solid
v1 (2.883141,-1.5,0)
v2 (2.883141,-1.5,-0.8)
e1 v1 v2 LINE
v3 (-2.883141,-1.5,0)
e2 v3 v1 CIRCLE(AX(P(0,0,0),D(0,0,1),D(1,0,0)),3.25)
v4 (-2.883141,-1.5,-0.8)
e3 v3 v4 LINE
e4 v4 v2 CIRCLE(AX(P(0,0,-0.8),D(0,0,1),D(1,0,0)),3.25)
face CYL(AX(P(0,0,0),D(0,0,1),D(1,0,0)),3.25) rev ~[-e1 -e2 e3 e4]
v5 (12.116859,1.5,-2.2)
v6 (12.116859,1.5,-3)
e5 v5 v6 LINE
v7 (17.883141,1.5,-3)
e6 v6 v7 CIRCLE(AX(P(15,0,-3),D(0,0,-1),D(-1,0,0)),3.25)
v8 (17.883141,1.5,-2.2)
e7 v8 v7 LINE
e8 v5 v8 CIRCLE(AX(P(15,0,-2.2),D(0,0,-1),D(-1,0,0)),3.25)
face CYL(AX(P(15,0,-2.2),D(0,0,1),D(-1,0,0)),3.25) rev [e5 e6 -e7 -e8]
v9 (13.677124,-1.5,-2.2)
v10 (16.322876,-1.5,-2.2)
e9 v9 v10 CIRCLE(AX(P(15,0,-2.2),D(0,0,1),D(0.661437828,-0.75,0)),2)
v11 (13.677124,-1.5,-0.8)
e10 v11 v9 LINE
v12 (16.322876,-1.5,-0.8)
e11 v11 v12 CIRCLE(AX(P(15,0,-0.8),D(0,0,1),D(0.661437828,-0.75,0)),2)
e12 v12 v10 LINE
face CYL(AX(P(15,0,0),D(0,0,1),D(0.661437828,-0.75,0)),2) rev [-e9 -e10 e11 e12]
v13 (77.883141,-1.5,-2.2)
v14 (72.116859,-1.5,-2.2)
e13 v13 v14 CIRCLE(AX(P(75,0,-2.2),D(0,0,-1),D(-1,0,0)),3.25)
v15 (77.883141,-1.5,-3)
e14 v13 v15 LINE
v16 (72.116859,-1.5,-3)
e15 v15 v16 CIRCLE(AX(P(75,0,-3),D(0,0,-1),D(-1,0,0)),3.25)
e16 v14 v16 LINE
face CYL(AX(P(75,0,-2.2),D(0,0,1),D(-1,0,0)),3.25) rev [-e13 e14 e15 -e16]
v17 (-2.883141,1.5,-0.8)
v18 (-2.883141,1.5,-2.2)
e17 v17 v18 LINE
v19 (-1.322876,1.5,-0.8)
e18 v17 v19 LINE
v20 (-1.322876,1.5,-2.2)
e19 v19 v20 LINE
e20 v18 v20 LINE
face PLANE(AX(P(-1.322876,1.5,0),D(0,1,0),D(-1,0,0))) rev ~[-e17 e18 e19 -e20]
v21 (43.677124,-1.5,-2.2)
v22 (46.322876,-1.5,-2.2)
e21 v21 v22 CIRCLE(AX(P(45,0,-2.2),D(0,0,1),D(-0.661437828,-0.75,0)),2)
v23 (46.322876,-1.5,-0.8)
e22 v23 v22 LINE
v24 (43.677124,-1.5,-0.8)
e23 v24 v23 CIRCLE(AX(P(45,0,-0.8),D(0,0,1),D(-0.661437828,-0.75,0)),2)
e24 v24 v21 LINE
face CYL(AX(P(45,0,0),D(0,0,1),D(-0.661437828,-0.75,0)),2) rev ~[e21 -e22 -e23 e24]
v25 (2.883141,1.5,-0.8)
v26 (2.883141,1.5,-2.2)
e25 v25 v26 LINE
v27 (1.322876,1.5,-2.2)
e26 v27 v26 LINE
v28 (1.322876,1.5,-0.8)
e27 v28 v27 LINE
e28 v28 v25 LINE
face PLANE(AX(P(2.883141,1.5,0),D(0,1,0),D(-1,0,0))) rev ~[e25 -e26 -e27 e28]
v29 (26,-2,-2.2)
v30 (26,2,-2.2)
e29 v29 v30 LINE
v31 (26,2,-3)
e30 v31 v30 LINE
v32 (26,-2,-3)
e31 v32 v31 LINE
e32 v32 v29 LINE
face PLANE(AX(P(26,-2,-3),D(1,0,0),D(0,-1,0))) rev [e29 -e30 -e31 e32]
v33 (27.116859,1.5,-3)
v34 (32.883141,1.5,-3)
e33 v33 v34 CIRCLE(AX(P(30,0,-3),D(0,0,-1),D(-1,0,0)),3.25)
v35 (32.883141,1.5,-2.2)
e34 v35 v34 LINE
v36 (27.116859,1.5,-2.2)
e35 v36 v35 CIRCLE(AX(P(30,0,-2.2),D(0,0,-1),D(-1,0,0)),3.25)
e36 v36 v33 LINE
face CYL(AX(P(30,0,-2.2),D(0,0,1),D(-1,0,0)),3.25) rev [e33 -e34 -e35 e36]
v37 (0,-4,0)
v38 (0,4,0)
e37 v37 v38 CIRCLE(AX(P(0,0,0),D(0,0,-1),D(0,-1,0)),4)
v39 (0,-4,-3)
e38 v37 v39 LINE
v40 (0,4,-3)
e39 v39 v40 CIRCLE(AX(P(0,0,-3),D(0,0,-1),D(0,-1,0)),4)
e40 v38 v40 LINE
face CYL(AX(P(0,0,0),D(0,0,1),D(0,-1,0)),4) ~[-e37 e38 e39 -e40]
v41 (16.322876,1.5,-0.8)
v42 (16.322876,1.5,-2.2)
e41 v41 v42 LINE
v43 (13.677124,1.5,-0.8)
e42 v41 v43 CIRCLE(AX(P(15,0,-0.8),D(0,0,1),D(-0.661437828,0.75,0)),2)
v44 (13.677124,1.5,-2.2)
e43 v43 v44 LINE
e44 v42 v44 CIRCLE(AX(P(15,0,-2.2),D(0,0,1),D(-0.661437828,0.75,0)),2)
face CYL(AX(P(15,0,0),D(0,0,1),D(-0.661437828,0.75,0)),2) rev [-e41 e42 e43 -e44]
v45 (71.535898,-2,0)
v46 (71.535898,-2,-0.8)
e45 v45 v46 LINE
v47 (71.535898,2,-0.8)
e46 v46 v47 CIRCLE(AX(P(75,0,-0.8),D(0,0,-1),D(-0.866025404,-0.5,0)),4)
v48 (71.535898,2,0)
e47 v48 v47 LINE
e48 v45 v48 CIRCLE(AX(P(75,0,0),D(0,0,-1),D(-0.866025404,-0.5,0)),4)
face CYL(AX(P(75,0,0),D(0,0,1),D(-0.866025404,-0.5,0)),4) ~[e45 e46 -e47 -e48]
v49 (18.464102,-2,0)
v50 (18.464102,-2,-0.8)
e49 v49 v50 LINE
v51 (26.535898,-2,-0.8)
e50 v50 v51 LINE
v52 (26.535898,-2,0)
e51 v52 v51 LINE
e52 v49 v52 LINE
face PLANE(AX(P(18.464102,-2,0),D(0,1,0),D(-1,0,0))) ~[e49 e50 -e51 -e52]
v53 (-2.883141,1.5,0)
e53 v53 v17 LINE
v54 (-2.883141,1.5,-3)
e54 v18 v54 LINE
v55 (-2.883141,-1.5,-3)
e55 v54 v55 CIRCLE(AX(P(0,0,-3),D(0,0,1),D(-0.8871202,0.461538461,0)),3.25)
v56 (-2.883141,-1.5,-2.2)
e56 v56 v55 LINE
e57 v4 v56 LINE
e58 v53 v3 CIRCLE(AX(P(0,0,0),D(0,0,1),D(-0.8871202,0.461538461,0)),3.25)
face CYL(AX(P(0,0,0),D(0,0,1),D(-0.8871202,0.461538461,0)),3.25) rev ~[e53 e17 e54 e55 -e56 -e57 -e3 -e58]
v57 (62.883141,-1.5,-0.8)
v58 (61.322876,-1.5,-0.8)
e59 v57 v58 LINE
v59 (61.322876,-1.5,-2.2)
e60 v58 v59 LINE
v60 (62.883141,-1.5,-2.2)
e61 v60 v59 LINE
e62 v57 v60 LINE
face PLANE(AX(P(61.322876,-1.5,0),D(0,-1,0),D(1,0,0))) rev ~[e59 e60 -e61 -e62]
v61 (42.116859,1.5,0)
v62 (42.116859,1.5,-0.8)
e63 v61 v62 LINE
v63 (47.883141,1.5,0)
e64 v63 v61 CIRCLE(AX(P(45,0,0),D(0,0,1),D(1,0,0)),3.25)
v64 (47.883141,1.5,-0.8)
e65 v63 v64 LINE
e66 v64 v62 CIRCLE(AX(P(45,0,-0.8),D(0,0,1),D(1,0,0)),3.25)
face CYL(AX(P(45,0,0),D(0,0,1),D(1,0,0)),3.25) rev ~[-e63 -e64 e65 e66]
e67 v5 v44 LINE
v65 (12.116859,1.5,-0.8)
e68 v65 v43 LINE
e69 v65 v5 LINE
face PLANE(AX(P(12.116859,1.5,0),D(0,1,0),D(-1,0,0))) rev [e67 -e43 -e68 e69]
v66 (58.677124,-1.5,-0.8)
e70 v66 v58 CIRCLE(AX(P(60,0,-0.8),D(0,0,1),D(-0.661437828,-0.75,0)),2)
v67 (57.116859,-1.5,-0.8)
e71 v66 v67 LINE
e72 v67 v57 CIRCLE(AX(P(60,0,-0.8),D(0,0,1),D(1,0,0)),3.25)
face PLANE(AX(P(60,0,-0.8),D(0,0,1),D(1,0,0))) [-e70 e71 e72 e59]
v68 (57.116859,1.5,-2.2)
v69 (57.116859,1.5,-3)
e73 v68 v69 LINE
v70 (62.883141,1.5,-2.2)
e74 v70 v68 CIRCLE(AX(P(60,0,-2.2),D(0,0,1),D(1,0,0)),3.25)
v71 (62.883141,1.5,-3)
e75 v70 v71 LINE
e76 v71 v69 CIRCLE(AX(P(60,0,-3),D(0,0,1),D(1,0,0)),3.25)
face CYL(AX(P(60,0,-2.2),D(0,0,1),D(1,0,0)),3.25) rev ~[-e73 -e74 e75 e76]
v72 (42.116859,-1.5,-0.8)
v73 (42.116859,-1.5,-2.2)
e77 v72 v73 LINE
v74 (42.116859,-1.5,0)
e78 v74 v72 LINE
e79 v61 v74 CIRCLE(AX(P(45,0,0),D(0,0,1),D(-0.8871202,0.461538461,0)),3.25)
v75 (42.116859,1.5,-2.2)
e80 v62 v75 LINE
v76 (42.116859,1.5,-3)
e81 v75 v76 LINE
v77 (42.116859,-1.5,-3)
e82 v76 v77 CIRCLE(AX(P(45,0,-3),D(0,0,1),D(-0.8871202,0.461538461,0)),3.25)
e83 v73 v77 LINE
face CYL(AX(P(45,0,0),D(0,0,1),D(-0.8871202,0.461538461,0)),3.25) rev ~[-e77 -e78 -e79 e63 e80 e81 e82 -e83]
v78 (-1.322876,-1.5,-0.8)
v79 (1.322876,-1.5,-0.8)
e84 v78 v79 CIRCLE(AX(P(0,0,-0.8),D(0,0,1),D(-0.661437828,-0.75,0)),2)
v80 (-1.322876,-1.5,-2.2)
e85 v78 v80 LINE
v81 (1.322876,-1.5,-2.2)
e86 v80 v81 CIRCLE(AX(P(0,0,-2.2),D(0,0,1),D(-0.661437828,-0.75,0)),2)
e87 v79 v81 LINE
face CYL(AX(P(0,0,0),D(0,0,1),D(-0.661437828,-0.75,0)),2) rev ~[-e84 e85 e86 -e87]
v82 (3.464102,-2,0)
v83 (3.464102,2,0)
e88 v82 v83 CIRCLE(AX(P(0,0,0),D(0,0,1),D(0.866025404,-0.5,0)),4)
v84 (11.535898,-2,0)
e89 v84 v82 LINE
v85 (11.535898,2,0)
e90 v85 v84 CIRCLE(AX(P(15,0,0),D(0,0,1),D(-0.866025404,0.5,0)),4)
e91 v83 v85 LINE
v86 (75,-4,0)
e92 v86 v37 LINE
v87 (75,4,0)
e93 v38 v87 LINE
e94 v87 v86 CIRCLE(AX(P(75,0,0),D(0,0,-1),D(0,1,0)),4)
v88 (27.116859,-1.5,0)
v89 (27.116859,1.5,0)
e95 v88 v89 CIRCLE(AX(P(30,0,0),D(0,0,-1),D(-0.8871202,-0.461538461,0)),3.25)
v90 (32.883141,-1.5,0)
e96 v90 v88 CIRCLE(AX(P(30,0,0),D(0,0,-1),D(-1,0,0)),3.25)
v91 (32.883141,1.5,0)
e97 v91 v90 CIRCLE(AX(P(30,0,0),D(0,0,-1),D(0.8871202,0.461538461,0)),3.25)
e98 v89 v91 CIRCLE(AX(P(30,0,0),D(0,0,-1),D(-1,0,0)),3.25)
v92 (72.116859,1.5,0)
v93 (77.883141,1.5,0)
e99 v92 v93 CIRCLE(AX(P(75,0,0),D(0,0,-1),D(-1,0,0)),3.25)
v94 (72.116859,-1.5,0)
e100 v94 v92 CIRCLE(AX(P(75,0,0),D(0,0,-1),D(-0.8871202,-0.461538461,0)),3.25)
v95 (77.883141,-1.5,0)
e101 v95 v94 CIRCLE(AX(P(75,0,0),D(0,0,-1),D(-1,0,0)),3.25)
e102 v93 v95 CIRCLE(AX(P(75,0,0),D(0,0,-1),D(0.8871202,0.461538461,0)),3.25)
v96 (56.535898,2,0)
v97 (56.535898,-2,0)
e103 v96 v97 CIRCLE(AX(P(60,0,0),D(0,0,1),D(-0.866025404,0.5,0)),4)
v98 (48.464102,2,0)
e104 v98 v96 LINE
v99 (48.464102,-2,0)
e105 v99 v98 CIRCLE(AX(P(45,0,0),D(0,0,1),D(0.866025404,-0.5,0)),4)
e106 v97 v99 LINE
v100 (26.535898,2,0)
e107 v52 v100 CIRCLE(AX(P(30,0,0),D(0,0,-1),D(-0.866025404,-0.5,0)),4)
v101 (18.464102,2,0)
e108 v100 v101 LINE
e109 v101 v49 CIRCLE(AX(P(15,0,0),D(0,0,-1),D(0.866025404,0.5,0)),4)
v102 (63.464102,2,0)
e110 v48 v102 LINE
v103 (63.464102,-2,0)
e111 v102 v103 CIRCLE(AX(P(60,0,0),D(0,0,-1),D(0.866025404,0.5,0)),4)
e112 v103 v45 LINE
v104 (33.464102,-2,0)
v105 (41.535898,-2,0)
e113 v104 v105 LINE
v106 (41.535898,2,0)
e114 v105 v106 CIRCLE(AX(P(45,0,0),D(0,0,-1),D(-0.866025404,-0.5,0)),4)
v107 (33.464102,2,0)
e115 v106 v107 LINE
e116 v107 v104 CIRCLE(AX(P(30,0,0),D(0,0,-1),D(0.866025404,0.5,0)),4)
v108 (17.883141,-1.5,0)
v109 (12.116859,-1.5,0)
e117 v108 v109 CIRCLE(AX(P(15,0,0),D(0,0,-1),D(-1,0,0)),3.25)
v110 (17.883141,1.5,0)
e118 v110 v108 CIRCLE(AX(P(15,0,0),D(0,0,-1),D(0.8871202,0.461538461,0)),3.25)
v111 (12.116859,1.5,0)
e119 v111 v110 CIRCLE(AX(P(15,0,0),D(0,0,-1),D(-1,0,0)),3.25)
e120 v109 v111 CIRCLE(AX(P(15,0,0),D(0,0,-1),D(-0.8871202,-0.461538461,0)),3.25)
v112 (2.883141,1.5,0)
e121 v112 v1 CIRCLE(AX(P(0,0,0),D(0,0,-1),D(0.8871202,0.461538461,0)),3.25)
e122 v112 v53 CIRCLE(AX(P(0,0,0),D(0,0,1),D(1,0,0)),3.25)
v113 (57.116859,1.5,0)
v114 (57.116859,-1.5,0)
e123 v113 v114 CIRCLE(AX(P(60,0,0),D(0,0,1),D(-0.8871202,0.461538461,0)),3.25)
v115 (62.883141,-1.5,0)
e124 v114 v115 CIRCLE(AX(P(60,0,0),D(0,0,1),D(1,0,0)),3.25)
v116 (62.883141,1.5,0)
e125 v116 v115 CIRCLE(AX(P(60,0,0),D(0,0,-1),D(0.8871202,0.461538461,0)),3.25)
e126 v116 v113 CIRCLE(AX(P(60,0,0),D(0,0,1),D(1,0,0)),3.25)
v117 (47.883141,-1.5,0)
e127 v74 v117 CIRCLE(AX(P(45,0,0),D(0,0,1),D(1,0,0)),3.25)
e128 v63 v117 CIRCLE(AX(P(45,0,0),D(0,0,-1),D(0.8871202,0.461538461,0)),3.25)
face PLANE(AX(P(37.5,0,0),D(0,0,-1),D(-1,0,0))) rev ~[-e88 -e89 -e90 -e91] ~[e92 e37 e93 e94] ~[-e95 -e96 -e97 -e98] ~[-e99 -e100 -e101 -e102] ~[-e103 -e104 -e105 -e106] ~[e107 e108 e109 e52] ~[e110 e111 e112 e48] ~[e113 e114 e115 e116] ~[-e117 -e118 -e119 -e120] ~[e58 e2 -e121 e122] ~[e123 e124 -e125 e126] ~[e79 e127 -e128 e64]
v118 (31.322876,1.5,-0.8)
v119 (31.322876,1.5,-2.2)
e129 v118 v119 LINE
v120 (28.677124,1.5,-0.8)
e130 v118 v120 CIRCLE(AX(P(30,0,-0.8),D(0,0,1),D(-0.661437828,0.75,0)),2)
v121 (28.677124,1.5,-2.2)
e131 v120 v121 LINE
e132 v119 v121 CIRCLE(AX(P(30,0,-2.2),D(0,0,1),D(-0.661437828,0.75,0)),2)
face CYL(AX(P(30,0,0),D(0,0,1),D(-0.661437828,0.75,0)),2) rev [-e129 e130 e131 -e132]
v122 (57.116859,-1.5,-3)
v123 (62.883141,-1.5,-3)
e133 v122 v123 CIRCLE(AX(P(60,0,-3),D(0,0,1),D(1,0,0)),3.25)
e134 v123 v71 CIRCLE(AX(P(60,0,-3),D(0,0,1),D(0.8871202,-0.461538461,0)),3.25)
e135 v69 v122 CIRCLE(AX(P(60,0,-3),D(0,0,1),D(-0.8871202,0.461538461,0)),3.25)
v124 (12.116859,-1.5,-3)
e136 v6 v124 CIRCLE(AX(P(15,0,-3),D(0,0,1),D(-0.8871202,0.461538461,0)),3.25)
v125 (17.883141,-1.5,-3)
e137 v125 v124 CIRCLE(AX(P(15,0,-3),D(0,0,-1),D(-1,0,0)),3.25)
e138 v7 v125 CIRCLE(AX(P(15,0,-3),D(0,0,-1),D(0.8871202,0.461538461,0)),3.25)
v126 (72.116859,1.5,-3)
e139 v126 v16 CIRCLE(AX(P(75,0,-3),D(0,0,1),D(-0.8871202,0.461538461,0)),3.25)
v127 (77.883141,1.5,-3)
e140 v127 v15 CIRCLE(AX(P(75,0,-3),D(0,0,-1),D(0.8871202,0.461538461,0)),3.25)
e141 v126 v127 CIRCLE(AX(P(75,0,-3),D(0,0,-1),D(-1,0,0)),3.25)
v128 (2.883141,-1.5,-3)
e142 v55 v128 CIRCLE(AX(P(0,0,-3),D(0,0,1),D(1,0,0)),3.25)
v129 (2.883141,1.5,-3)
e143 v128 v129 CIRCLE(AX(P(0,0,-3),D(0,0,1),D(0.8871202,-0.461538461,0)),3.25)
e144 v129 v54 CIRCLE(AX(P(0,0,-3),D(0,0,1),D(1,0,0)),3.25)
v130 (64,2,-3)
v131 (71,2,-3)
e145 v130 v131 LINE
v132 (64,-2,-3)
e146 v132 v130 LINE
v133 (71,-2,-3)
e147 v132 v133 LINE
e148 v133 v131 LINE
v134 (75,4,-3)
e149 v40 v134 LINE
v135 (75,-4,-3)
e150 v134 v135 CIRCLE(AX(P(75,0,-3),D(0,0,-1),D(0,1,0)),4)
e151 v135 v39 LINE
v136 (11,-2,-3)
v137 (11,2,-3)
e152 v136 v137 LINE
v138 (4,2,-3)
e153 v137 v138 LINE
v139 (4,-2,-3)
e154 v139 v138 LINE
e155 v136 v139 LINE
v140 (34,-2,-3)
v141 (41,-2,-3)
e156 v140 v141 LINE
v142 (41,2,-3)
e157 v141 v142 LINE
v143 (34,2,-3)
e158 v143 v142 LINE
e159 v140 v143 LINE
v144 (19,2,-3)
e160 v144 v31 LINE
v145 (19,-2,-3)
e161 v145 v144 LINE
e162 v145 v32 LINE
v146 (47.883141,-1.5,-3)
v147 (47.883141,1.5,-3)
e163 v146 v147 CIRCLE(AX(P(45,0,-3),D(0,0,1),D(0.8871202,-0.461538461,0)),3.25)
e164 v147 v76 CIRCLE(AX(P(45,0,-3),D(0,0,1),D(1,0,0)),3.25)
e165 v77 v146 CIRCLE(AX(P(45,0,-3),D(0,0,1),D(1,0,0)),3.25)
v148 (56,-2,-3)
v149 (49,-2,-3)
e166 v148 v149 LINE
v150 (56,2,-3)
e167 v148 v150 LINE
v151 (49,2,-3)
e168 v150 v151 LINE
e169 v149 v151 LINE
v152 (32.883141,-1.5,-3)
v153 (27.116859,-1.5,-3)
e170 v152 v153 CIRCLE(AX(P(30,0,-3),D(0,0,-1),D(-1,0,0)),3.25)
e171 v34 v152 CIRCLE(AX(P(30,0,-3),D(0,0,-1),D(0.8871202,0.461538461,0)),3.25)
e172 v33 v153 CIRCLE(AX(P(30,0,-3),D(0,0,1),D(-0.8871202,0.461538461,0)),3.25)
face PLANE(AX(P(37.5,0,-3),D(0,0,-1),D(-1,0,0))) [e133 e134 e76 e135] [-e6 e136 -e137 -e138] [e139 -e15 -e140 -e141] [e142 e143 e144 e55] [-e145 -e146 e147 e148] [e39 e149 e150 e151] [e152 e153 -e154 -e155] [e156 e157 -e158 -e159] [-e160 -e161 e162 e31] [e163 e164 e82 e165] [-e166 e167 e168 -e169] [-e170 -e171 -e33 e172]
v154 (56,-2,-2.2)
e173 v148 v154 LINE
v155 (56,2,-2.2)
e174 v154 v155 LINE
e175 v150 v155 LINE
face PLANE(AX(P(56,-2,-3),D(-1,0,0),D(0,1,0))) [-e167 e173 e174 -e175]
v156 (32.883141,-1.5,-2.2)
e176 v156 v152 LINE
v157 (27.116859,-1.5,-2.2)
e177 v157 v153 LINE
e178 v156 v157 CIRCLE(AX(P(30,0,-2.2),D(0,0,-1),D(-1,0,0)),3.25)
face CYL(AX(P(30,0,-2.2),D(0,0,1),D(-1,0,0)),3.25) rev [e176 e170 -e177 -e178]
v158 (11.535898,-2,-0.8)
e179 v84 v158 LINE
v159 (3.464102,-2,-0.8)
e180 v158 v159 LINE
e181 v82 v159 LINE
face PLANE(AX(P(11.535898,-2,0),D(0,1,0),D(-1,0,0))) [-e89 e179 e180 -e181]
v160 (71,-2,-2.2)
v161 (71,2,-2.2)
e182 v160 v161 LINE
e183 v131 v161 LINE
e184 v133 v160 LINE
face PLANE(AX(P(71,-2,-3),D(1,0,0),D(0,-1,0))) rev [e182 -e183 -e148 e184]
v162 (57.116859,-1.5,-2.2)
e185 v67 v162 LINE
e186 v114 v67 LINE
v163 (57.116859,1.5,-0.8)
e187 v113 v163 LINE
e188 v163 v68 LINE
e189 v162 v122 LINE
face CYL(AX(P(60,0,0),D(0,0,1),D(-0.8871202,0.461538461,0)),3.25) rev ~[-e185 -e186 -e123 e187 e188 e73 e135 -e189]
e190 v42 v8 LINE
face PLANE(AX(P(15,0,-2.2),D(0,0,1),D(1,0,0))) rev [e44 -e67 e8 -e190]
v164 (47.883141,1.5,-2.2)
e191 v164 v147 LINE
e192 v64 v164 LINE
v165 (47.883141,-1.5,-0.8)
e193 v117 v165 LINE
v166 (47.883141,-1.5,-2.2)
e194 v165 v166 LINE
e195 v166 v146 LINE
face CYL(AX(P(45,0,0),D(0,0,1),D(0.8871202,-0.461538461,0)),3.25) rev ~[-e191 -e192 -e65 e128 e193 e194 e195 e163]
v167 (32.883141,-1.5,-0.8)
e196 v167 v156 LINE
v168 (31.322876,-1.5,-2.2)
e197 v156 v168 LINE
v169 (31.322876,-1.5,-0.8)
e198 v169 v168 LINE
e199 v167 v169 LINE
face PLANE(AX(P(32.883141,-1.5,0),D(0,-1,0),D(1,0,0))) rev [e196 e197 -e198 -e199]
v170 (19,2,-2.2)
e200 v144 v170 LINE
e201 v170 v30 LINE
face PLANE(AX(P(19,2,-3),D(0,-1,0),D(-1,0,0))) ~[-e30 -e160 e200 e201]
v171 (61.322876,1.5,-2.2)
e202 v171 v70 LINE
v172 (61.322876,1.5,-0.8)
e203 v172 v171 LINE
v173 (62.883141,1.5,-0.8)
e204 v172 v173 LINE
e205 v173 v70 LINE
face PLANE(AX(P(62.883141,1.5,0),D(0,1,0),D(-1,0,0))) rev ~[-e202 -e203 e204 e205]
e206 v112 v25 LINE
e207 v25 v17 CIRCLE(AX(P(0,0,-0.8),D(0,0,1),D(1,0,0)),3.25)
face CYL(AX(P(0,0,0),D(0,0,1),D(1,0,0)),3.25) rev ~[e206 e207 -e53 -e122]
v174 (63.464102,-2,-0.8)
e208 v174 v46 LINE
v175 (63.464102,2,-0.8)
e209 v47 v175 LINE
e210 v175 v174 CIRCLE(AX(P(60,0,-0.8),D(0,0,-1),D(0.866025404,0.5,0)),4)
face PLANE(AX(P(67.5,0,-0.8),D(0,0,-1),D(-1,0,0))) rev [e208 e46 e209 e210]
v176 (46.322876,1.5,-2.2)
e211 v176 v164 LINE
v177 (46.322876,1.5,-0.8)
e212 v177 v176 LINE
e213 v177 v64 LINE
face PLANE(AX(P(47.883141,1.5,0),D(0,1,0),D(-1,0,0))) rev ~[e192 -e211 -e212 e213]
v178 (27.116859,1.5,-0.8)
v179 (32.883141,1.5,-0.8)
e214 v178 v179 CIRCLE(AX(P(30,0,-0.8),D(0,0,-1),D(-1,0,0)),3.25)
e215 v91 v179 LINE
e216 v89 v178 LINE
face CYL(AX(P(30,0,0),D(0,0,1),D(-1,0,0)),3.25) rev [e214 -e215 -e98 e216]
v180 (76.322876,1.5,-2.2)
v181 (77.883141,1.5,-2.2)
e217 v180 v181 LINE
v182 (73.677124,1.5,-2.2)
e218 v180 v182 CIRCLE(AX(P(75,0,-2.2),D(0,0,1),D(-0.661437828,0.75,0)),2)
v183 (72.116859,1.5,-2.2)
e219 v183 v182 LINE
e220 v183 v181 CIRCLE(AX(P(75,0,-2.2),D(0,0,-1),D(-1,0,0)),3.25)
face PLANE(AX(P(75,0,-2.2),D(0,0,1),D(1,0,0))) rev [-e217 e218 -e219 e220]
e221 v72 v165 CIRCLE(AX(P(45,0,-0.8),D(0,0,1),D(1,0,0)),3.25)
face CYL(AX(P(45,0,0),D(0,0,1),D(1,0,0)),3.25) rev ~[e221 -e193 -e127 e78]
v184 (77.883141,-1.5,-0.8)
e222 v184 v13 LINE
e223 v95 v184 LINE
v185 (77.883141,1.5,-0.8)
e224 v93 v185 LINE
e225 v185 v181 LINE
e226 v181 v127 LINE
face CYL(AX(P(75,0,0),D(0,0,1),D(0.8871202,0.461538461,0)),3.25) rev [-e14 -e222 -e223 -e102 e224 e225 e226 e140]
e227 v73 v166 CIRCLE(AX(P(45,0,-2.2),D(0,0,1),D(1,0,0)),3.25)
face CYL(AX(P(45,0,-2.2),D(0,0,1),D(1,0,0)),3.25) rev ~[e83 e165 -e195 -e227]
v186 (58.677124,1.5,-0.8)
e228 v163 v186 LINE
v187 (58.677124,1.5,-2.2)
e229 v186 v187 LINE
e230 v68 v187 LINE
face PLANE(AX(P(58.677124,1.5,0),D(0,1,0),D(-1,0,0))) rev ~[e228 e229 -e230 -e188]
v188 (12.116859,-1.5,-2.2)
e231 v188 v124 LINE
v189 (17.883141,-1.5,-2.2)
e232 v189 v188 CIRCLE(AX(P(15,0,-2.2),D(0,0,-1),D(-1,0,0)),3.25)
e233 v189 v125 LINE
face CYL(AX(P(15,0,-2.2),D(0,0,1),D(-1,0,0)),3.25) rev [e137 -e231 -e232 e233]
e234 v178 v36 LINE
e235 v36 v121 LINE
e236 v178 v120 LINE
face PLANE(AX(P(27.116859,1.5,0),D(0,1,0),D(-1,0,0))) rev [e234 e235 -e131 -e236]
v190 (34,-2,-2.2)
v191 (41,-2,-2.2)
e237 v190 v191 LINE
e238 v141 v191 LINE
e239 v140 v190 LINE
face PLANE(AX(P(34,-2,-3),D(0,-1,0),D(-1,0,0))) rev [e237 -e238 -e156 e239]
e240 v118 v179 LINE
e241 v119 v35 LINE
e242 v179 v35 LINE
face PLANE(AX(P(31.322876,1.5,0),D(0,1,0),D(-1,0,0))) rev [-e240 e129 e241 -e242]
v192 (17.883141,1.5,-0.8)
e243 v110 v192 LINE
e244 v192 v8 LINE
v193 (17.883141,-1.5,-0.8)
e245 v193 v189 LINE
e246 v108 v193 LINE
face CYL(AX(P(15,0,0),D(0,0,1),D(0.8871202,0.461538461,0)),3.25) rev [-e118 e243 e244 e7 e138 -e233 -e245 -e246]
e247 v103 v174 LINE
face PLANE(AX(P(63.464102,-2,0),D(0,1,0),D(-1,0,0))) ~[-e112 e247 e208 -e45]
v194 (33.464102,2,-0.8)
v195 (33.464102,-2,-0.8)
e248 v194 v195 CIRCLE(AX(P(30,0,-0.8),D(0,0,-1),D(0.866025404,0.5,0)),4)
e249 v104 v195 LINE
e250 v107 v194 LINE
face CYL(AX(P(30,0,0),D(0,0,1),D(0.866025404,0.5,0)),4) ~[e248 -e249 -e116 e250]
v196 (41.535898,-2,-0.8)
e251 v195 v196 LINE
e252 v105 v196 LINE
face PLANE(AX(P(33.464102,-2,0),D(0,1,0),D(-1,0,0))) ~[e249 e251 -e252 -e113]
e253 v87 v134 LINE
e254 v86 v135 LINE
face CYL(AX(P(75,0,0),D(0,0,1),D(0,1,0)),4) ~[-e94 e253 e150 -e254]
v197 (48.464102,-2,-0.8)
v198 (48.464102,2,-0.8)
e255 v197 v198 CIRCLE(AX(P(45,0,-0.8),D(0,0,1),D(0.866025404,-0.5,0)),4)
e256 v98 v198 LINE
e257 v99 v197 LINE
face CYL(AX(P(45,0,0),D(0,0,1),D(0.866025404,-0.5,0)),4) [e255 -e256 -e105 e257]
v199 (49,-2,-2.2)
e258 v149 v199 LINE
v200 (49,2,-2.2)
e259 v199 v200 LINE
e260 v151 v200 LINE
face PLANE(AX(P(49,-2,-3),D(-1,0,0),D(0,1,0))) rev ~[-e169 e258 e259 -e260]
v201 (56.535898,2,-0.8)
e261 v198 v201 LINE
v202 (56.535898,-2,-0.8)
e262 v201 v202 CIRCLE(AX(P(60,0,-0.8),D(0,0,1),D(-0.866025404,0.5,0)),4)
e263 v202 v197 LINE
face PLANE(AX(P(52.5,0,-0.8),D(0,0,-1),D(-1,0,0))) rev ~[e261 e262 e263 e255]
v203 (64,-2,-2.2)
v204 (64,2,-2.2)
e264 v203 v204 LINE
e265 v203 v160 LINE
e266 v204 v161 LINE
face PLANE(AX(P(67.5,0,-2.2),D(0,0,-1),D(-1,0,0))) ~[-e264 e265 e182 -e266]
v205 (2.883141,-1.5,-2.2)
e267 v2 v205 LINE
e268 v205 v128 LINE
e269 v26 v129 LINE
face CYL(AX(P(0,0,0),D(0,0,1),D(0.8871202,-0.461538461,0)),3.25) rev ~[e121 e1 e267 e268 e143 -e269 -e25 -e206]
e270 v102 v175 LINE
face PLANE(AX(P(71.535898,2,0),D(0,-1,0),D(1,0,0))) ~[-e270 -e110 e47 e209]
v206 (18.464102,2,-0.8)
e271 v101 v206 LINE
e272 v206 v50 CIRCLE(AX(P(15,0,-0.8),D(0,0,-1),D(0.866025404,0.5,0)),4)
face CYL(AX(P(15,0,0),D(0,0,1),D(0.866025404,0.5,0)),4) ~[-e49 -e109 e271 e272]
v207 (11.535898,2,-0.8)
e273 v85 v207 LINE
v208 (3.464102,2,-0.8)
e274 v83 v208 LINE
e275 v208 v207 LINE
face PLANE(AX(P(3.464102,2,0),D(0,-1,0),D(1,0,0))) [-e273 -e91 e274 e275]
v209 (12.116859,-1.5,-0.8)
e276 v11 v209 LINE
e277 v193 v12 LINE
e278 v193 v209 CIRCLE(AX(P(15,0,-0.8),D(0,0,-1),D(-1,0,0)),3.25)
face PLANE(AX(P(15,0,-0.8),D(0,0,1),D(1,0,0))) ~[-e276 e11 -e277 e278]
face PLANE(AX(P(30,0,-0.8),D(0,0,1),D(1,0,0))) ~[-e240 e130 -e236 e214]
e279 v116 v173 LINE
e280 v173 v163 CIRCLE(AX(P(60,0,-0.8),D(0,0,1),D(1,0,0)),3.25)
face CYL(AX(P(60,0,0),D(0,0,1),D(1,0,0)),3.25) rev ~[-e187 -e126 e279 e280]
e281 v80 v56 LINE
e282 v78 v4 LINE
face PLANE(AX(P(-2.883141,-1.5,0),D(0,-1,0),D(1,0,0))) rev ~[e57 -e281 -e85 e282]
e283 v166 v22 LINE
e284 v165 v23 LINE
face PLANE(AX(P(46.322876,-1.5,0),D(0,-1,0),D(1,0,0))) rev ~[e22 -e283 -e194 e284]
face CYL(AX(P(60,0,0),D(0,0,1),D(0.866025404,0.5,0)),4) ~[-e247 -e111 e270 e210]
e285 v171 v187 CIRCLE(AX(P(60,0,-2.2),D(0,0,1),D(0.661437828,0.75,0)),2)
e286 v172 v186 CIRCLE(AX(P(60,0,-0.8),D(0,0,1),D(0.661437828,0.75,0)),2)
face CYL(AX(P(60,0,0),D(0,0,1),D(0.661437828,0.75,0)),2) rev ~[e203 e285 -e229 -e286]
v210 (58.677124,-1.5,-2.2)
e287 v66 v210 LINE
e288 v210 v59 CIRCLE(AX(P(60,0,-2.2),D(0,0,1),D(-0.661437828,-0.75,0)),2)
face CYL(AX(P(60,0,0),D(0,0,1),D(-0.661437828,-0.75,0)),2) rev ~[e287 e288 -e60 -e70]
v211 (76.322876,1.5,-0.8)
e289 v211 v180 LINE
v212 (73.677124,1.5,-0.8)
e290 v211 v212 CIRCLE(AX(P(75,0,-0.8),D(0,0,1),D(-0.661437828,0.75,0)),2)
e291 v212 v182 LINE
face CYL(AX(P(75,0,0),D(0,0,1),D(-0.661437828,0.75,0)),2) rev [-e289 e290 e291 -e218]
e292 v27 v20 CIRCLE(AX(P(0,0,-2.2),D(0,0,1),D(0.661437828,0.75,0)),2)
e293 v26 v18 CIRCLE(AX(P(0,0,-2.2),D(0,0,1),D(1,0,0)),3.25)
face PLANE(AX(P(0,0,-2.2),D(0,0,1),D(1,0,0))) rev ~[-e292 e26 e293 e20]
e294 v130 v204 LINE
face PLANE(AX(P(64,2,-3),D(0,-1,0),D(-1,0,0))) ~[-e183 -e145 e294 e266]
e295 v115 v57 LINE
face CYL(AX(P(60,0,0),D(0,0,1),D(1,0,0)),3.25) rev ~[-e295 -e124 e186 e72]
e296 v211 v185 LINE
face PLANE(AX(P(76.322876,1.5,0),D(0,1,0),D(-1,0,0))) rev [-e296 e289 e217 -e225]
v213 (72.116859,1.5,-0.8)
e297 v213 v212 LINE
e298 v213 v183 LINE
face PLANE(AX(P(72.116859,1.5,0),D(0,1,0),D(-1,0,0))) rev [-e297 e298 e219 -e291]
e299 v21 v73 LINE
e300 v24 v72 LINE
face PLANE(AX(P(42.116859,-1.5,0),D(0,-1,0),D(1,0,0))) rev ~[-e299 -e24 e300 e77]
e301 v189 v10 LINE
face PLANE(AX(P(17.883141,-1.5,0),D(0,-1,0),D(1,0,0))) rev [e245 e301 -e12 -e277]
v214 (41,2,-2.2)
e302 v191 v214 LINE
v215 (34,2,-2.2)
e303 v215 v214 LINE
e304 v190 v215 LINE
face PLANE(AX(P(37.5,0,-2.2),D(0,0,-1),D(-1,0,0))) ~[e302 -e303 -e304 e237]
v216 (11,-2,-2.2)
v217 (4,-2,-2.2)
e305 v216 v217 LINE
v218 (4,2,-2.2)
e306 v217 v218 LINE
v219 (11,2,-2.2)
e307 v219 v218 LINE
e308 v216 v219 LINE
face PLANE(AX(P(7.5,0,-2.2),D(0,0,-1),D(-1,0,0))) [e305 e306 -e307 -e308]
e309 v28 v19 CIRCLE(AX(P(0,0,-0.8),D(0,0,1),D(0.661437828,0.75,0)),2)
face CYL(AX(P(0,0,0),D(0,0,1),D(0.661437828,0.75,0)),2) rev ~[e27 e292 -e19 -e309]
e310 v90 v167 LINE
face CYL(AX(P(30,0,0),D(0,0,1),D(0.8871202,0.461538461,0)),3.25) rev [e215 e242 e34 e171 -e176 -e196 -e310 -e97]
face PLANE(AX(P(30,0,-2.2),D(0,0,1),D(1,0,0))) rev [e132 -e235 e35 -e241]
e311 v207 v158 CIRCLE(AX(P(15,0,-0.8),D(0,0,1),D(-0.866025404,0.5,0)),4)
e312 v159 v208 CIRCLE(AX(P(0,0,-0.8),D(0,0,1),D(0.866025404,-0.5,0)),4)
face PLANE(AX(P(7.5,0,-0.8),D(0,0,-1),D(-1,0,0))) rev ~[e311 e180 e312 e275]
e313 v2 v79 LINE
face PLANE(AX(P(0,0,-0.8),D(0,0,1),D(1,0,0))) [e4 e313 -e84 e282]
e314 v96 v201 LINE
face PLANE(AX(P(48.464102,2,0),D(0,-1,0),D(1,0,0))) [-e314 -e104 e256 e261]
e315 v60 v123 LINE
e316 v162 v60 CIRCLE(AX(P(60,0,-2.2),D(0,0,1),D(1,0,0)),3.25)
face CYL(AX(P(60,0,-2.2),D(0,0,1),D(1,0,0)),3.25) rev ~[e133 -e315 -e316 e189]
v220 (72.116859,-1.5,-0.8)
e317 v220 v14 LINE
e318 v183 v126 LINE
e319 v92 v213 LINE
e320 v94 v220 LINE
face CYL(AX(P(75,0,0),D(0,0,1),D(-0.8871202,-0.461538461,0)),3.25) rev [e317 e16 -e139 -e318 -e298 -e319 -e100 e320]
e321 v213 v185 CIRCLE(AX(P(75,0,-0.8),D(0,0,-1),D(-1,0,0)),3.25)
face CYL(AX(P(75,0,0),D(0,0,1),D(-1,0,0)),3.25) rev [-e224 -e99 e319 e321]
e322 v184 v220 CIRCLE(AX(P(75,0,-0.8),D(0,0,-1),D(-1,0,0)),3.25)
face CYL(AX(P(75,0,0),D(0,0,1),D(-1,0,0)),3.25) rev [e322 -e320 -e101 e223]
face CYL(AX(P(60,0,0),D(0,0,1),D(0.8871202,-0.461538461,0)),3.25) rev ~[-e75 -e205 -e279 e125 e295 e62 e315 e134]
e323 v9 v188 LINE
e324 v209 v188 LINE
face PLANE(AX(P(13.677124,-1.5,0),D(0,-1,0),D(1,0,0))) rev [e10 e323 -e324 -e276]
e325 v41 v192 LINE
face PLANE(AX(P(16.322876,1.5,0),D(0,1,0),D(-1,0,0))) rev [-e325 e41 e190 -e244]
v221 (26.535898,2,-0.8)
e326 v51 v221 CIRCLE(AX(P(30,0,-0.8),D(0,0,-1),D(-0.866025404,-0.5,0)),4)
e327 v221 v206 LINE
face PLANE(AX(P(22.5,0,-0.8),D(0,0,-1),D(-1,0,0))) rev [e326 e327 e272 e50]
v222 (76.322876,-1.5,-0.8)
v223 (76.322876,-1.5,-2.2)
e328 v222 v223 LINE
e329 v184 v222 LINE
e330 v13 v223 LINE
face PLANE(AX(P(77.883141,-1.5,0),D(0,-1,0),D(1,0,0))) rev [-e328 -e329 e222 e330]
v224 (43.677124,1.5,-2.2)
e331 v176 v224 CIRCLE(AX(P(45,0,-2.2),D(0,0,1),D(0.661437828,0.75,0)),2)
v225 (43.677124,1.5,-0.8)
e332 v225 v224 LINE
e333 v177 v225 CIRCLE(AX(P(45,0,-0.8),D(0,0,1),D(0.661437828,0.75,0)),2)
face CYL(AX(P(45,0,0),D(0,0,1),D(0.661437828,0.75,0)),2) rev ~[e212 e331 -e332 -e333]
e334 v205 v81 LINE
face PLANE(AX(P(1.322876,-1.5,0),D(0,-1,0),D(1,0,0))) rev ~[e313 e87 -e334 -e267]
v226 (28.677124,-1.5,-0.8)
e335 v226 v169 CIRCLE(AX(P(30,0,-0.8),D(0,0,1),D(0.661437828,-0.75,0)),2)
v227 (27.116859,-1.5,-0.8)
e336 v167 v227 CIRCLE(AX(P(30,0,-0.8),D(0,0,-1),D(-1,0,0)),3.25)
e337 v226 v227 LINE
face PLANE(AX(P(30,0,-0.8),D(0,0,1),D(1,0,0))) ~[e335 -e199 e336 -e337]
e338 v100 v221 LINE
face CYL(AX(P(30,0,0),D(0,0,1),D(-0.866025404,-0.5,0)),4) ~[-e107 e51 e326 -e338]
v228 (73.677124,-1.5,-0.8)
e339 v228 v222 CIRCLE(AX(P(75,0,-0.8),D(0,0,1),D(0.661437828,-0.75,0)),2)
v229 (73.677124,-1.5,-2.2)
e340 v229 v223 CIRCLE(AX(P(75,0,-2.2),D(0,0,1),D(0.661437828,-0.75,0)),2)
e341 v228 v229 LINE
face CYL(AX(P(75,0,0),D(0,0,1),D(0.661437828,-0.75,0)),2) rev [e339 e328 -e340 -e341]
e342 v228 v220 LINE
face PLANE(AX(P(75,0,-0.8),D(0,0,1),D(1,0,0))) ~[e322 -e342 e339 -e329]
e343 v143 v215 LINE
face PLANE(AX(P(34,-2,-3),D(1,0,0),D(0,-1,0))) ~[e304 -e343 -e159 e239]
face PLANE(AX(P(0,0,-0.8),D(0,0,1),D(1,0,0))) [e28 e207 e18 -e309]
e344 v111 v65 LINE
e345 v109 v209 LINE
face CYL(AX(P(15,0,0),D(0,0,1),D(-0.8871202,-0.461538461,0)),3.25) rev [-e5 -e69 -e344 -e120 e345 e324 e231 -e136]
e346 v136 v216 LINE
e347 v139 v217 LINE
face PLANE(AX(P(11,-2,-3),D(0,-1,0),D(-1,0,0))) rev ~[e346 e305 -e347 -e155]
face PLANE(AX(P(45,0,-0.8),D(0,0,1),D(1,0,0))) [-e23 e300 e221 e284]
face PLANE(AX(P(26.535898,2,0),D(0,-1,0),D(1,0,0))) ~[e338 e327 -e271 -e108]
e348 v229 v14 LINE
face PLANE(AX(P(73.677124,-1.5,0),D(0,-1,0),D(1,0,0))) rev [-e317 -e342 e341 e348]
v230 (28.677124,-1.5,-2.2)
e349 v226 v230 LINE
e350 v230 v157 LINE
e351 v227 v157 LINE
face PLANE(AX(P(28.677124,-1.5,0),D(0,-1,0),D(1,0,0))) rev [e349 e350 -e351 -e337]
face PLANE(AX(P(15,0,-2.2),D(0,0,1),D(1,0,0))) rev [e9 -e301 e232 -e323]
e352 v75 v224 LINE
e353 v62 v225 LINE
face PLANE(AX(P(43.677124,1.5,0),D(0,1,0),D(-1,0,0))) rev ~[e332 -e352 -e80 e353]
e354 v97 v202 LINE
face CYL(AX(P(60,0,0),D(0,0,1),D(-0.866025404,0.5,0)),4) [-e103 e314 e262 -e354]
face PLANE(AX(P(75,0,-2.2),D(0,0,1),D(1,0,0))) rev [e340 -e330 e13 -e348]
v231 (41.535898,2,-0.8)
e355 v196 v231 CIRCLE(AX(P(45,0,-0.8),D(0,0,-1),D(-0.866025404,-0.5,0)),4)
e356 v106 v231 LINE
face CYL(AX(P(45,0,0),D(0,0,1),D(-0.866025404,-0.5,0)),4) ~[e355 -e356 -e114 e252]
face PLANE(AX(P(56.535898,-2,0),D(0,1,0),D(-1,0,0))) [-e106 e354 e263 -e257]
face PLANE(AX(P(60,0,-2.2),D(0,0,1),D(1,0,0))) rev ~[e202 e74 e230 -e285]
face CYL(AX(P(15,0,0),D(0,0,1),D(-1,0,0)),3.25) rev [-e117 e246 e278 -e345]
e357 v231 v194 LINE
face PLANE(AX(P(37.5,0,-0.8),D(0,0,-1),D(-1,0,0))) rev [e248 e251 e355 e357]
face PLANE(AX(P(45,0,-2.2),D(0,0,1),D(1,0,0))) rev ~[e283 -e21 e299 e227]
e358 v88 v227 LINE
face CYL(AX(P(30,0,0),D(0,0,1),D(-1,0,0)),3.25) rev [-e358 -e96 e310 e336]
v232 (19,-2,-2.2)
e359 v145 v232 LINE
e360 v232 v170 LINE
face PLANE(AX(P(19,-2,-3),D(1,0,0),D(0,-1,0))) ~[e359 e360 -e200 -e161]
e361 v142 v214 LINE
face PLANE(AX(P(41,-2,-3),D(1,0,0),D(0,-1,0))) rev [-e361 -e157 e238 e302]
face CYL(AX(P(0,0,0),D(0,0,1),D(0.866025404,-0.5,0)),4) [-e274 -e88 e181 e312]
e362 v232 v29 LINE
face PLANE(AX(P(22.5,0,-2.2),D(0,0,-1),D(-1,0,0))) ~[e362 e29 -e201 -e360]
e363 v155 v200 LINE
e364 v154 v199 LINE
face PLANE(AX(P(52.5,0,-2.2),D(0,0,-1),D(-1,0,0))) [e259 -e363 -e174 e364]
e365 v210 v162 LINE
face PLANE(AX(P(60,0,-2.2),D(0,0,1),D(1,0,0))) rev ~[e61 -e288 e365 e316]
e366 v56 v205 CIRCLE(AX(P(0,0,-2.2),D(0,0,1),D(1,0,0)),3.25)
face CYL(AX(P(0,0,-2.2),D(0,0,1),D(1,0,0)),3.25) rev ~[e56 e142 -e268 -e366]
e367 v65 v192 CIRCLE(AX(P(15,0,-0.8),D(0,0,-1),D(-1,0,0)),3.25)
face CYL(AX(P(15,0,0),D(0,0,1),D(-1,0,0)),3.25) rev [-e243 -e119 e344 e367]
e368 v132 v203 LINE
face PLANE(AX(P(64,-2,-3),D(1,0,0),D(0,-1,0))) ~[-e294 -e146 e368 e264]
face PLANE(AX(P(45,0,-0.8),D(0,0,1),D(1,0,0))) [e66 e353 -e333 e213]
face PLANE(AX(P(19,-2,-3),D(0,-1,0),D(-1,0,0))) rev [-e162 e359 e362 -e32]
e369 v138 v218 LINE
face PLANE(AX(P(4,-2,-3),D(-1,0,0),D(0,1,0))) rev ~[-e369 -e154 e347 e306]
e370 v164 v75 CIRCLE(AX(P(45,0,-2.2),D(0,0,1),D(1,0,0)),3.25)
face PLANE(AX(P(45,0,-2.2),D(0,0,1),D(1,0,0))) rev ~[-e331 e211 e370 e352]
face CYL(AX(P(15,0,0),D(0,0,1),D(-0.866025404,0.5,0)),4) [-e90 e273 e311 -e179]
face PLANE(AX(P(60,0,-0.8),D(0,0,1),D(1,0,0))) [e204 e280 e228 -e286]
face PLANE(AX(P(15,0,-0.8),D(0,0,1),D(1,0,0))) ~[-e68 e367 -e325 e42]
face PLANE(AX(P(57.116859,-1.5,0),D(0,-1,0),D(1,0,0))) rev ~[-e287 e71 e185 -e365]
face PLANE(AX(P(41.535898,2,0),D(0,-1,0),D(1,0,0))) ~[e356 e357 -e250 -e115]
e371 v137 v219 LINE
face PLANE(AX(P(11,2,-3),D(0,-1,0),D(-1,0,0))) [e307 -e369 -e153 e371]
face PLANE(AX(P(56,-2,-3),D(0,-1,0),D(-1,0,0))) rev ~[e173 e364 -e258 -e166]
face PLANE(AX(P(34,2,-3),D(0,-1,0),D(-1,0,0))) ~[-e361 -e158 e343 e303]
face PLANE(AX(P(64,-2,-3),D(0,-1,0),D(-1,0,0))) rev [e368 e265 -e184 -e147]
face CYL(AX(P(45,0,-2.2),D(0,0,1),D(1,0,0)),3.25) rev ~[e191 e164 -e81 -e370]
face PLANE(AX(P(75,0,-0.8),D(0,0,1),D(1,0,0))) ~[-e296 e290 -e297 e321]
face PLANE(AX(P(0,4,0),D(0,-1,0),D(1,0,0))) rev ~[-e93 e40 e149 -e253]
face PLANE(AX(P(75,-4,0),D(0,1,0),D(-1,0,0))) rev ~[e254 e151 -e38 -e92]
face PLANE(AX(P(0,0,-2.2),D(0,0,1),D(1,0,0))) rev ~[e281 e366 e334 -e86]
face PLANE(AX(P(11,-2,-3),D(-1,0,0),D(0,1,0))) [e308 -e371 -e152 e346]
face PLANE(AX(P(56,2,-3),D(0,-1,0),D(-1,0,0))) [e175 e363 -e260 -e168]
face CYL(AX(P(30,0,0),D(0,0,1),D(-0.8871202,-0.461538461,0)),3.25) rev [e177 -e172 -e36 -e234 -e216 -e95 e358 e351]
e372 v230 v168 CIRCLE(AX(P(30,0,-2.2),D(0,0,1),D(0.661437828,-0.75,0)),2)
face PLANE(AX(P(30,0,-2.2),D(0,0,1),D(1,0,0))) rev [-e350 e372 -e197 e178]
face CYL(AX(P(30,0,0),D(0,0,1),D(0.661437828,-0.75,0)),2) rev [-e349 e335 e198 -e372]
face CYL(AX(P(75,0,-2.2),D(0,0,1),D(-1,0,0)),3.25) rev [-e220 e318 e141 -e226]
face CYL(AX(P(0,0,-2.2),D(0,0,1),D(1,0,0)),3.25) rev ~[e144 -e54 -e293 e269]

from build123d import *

# Parameters (mm, degrees)
EXTRUDE_1_DEPTH          = 3
CUT_EXTRUDE_1_REACH      = 81.158
SKETCH_3_R               = 3.25
CUT_EXTRUDE_2_DEPTH      = 0.8
CUT_EXTRUDE_START        = -2.2
SKETCH_3_2_R             = 3.25
CUT_EXTRUDE_3_DEPTH      = 0.8
CUT_EXTRUDE_4_DEPTH      = 0.8
SKETCH_5_W               = 7
SKETCH_5_H               = 4
CUT_EXTRUDE_6_DEPTH      = 0.8
MIRROR_8_COPY_1_REACH    = 81.158
MIRROR_8_COPY_2_SKETCH_R = 3.25
MIRROR_8_COPY_2_DEPTH    = 0.8
MIRROR_START             = -2.2
MIRROR_8_COPY_3_SKETCH_R = 3.25
MIRROR_8_COPY_3_DEPTH    = 0.8
MIRROR_8_COPY_4_DEPTH    = 0.8
MIRROR_8_COPY_5_SKETCH_W = 7
MIRROR_8_COPY_5_SKETCH_H = 4
MIRROR_8_COPY_5_DEPTH    = 0.8
MIRROR_8_COPY_6_REACH    = 81.158
MIRROR_8_COPY_7_SKETCH_R = 3.25
MIRROR_8_COPY_7_DEPTH    = 0.8
MIRROR_8_COPY_8_SKETCH_R = 3.25
MIRROR_8_COPY_8_DEPTH    = 0.8


with BuildPart() as part:
    # 草图1 → 凸台-拉伸1 (new body)
    with BuildSketch(Plane.XY):
        with BuildLine():
            Line((0, 4), (75, 4))
            ThreePointArc((75, 4), (79, 0), (75, -4))
            Line((75, -4), (0, -4))
            ThreePointArc((0, -4), (-4, 0), (0, 4))
        make_face()
    extrude(amount=-EXTRUDE_1_DEPTH)

    # 草图2 → 切除-拉伸1 (cut, up to next)
    with BuildSketch(Plane.XY, mode=Mode.PRIVATE) as cut_extrude_1_sk1:
        with BuildLine():
            Line((1.322875656, -1.5), (2.883140649, -1.5))
            ThreePointArc((2.883140649, -1.5), (3.25, 0), (2.883140649, 1.5))
            Line((2.883140649, 1.5), (1.322875656, 1.5))
            ThreePointArc((1.322875656, 1.5), (0, 2), (-1.322875656, 1.5))
            Line((-1.322875656, 1.5), (-2.883140649, 1.5))
            ThreePointArc((-2.883140649, 1.5), (-3.25, 0), (-2.883140649, -1.5))
            Line((-2.883140649, -1.5), (-1.322875656, -1.5))
            ThreePointArc((-1.322875656, -1.5), (0, -2), (1.322875656, -1.5))
        make_face()
    cut_extrude_1_tool1 = extrude(cut_extrude_1_sk1.sketch, amount=-CUT_EXTRUDE_1_REACH, mode=Mode.PRIVATE) & part.part
    cut_extrude_1 = cut_extrude_1_tool1.solids().sort_by_distance((0, 0, 0))[0]
    add(cut_extrude_1, mode=Mode.SUBTRACT)

    # 草图3 → 切除-拉伸2 (cut)
    with BuildSketch(Plane.XY):
        Circle(SKETCH_3_R)
    cut_extrude_2 = extrude(amount=-CUT_EXTRUDE_2_DEPTH, mode=Mode.SUBTRACT)

    # 草图3<2> → 切除-拉伸3 (cut)
    with BuildSketch(Plane.XY.offset(CUT_EXTRUDE_START)):
        Circle(SKETCH_3_2_R)
    cut_extrude_3 = extrude(amount=-CUT_EXTRUDE_3_DEPTH, mode=Mode.SUBTRACT)

    # 草图4 → 切除-拉伸4 (cut)
    with BuildSketch(Plane.XY):
        with BuildLine():
            Line((3.464101615, 2), (11.535898385, 2))
            ThreePointArc((11.535898385, 2), (11, 0), (11.535898385, -2))
            Line((11.535898385, -2), (3.464101615, -2))
            ThreePointArc((3.464101615, -2), (4, 0), (3.464101615, 2))
        make_face()
    cut_extrude_4 = extrude(amount=-CUT_EXTRUDE_4_DEPTH, mode=Mode.SUBTRACT)

    # 草图5 → 切除-拉伸6 (cut)
    with BuildSketch(Plane(origin=(0, 0, -3), x_dir=(-1, 0, 0), z_dir=(0, 0, -1))):
        with Locations((-7.5, 0)):
            Rectangle(SKETCH_5_W, SKETCH_5_H)
    cut_extrude_6 = extrude(amount=-CUT_EXTRUDE_6_DEPTH, mode=Mode.SUBTRACT)

    # 镜向1: 切除-拉伸1, 切除-拉伸2, 切除-拉伸3 across plane
    add(cut_extrude_1.mirror(Plane(origin=(7.5, 0, 0), x_dir=(0, 0, 1), z_dir=(1, 0, 0))), mode=Mode.SUBTRACT)
    add(cut_extrude_2.mirror(Plane(origin=(7.5, 0, 0), x_dir=(0, 0, 1), z_dir=(1, 0, 0))), mode=Mode.SUBTRACT)
    add(cut_extrude_3.mirror(Plane(origin=(7.5, 0, 0), x_dir=(0, 0, 1), z_dir=(1, 0, 0))), mode=Mode.SUBTRACT)

    # 镜向3: 切除-拉伸4, 切除-拉伸6 across plane
    add(cut_extrude_4.mirror(Plane(origin=(15, 0, 0), x_dir=(0, 0, 1), z_dir=(1, 0, 0))), mode=Mode.SUBTRACT)
    add(cut_extrude_6.mirror(Plane(origin=(15, 0, 0), x_dir=(0, 0, 1), z_dir=(1, 0, 0))), mode=Mode.SUBTRACT)

    # 镜向4: 切除-拉伸4, 切除-拉伸6 across plane
    add(cut_extrude_4.mirror(Plane(origin=(22.5, 0, 0), x_dir=(0, 0, 1), z_dir=(1, 0, 0))), mode=Mode.SUBTRACT)
    add(cut_extrude_6.mirror(Plane(origin=(22.5, 0, 0), x_dir=(0, 0, 1), z_dir=(1, 0, 0))), mode=Mode.SUBTRACT)

    # 镜向7: 切除-拉伸1, 切除-拉伸2, 切除-拉伸3 across plane
    add(cut_extrude_1.mirror(Plane(origin=(15, 0, 0), x_dir=(0, 0, 1), z_dir=(1, 0, 0))), mode=Mode.SUBTRACT)
    add(cut_extrude_2.mirror(Plane(origin=(15, 0, 0), x_dir=(0, 0, 1), z_dir=(1, 0, 0))), mode=Mode.SUBTRACT)
    add(cut_extrude_3.mirror(Plane(origin=(15, 0, 0), x_dir=(0, 0, 1), z_dir=(1, 0, 0))), mode=Mode.SUBTRACT)

    # 镜向8: 切除-拉伸1, 切除-拉伸2, 切除-拉伸3, 切除-拉伸4, 切除-拉伸6 across plane
    add(cut_extrude_1.mirror(Plane(origin=(37.5, 0, 0), x_dir=(0, 0, 1), z_dir=(1, 0, 0))), mode=Mode.SUBTRACT)
    add(cut_extrude_2.mirror(Plane(origin=(37.5, 0, 0), x_dir=(0, 0, 1), z_dir=(1, 0, 0))), mode=Mode.SUBTRACT)
    add(cut_extrude_3.mirror(Plane(origin=(37.5, 0, 0), x_dir=(0, 0, 1), z_dir=(1, 0, 0))), mode=Mode.SUBTRACT)
    add(cut_extrude_4.mirror(Plane(origin=(37.5, 0, 0), x_dir=(0, 0, 1), z_dir=(1, 0, 0))), mode=Mode.SUBTRACT)
    add(cut_extrude_6.mirror(Plane(origin=(37.5, 0, 0), x_dir=(0, 0, 1), z_dir=(1, 0, 0))), mode=Mode.SUBTRACT)

    # 镜向8 copy 1 sketch → 镜向8 copy 1 (cut, up to next)
    with BuildSketch(Plane(origin=(60, 0, 0), x_dir=(1, 0, 0), z_dir=(0, 0, 1)), mode=Mode.PRIVATE) as mirror_8_copy_1_sk1:
        with BuildLine():
            Line((1.322875656, -1.5), (2.883140649, -1.5))
            ThreePointArc((2.883140649, -1.5), (3.25, 0), (2.883140649, 1.5))
            Line((2.883140649, 1.5), (1.322875656, 1.5))
            ThreePointArc((1.322875656, 1.5), (0, 2), (-1.322875656, 1.5))
            Line((-1.322875656, 1.5), (-2.883140649, 1.5))
            ThreePointArc((-2.883140649, 1.5), (-3.25, 0), (-2.883140649, -1.5))
            Line((-2.883140649, -1.5), (-1.322875656, -1.5))
            ThreePointArc((-1.322875656, -1.5), (0, -2), (1.322875656, -1.5))
        make_face()
    mirror_8_copy_1_tool1 = extrude(mirror_8_copy_1_sk1.sketch, amount=-MIRROR_8_COPY_1_REACH, mode=Mode.PRIVATE) & part.part
    add(mirror_8_copy_1_tool1.solids().sort_by_distance((60, 0, 0))[0], mode=Mode.SUBTRACT)

    # 镜向8 copy 2 sketch → 镜向8 copy 2 (cut)
    with BuildSketch(Plane(origin=(60, 0, 0), x_dir=(1, 0, 0), z_dir=(0, 0, 1))):
        Circle(MIRROR_8_COPY_2_SKETCH_R)
    extrude(amount=-MIRROR_8_COPY_2_DEPTH, mode=Mode.SUBTRACT)

    # 镜向8 copy 3 sketch → 镜向8 copy 3 (cut)
    with BuildSketch(Plane(origin=(60, 0, 0), x_dir=(1, 0, 0), z_dir=(0, 0, 1)).offset(MIRROR_START)):
        Circle(MIRROR_8_COPY_3_SKETCH_R)
    extrude(amount=-MIRROR_8_COPY_3_DEPTH, mode=Mode.SUBTRACT)

    # 镜向8 copy 4 sketch → 镜向8 copy 4 (cut)
    with BuildSketch(Plane(origin=(45, 0, 0), x_dir=(1, 0, 0), z_dir=(0, 0, 1))):
        with BuildLine():
            Line((3.464101615, 2), (11.535898385, 2))
            ThreePointArc((11.535898385, 2), (11, 0), (11.535898385, -2))
            Line((11.535898385, -2), (3.464101615, -2))
            ThreePointArc((3.464101615, -2), (4, 0), (3.464101615, 2))
        make_face()
    extrude(amount=-MIRROR_8_COPY_4_DEPTH, mode=Mode.SUBTRACT)

    # 镜向8 copy 5 sketch → 镜向8 copy 5 (cut)
    with BuildSketch(Plane(origin=(45, 0, -3), x_dir=(-1, 0, 0), z_dir=(0, 0, -1))):
        with Locations((-7.5, 0)):
            Rectangle(MIRROR_8_COPY_5_SKETCH_W, MIRROR_8_COPY_5_SKETCH_H)
    extrude(amount=-MIRROR_8_COPY_5_DEPTH, mode=Mode.SUBTRACT)

    # 镜向8 copy 6 sketch → 镜向8 copy 6 (cut, up to next)
    with BuildSketch(Plane(origin=(45, 0, 0), x_dir=(1, 0, 0), z_dir=(0, 0, 1)), mode=Mode.PRIVATE) as mirror_8_copy_6_sk1:
        with BuildLine():
            Line((1.322875656, -1.5), (2.883140649, -1.5))
            ThreePointArc((2.883140649, -1.5), (3.25, 0), (2.883140649, 1.5))
            Line((2.883140649, 1.5), (1.322875656, 1.5))
            ThreePointArc((1.322875656, 1.5), (0, 2), (-1.322875656, 1.5))
            Line((-1.322875656, 1.5), (-2.883140649, 1.5))
            ThreePointArc((-2.883140649, 1.5), (-3.25, 0), (-2.883140649, -1.5))
            Line((-2.883140649, -1.5), (-1.322875656, -1.5))
            ThreePointArc((-1.322875656, -1.5), (0, -2), (1.322875656, -1.5))
        make_face()
    mirror_8_copy_6_tool1 = extrude(mirror_8_copy_6_sk1.sketch, amount=-MIRROR_8_COPY_6_REACH, mode=Mode.PRIVATE) & part.part
    add(mirror_8_copy_6_tool1.solids().sort_by_distance((45, 0, 0))[0], mode=Mode.SUBTRACT)

    # 镜向8 copy 7 sketch → 镜向8 copy 7 (cut)
    with BuildSketch(Plane(origin=(45, 0, 0), x_dir=(1, 0, 0), z_dir=(0, 0, 1))):
        Circle(MIRROR_8_COPY_7_SKETCH_R)
    extrude(amount=-MIRROR_8_COPY_7_DEPTH, mode=Mode.SUBTRACT)

    # 镜向8 copy 8 sketch → 镜向8 copy 8 (cut)
    with BuildSketch(Plane(origin=(45, 0, 0), x_dir=(1, 0, 0), z_dir=(0, 0, 1)).offset(MIRROR_START)):
        Circle(MIRROR_8_COPY_8_SKETCH_R)
    extrude(amount=-MIRROR_8_COPY_8_DEPTH, mode=Mode.SUBTRACT)


solid = part.part
